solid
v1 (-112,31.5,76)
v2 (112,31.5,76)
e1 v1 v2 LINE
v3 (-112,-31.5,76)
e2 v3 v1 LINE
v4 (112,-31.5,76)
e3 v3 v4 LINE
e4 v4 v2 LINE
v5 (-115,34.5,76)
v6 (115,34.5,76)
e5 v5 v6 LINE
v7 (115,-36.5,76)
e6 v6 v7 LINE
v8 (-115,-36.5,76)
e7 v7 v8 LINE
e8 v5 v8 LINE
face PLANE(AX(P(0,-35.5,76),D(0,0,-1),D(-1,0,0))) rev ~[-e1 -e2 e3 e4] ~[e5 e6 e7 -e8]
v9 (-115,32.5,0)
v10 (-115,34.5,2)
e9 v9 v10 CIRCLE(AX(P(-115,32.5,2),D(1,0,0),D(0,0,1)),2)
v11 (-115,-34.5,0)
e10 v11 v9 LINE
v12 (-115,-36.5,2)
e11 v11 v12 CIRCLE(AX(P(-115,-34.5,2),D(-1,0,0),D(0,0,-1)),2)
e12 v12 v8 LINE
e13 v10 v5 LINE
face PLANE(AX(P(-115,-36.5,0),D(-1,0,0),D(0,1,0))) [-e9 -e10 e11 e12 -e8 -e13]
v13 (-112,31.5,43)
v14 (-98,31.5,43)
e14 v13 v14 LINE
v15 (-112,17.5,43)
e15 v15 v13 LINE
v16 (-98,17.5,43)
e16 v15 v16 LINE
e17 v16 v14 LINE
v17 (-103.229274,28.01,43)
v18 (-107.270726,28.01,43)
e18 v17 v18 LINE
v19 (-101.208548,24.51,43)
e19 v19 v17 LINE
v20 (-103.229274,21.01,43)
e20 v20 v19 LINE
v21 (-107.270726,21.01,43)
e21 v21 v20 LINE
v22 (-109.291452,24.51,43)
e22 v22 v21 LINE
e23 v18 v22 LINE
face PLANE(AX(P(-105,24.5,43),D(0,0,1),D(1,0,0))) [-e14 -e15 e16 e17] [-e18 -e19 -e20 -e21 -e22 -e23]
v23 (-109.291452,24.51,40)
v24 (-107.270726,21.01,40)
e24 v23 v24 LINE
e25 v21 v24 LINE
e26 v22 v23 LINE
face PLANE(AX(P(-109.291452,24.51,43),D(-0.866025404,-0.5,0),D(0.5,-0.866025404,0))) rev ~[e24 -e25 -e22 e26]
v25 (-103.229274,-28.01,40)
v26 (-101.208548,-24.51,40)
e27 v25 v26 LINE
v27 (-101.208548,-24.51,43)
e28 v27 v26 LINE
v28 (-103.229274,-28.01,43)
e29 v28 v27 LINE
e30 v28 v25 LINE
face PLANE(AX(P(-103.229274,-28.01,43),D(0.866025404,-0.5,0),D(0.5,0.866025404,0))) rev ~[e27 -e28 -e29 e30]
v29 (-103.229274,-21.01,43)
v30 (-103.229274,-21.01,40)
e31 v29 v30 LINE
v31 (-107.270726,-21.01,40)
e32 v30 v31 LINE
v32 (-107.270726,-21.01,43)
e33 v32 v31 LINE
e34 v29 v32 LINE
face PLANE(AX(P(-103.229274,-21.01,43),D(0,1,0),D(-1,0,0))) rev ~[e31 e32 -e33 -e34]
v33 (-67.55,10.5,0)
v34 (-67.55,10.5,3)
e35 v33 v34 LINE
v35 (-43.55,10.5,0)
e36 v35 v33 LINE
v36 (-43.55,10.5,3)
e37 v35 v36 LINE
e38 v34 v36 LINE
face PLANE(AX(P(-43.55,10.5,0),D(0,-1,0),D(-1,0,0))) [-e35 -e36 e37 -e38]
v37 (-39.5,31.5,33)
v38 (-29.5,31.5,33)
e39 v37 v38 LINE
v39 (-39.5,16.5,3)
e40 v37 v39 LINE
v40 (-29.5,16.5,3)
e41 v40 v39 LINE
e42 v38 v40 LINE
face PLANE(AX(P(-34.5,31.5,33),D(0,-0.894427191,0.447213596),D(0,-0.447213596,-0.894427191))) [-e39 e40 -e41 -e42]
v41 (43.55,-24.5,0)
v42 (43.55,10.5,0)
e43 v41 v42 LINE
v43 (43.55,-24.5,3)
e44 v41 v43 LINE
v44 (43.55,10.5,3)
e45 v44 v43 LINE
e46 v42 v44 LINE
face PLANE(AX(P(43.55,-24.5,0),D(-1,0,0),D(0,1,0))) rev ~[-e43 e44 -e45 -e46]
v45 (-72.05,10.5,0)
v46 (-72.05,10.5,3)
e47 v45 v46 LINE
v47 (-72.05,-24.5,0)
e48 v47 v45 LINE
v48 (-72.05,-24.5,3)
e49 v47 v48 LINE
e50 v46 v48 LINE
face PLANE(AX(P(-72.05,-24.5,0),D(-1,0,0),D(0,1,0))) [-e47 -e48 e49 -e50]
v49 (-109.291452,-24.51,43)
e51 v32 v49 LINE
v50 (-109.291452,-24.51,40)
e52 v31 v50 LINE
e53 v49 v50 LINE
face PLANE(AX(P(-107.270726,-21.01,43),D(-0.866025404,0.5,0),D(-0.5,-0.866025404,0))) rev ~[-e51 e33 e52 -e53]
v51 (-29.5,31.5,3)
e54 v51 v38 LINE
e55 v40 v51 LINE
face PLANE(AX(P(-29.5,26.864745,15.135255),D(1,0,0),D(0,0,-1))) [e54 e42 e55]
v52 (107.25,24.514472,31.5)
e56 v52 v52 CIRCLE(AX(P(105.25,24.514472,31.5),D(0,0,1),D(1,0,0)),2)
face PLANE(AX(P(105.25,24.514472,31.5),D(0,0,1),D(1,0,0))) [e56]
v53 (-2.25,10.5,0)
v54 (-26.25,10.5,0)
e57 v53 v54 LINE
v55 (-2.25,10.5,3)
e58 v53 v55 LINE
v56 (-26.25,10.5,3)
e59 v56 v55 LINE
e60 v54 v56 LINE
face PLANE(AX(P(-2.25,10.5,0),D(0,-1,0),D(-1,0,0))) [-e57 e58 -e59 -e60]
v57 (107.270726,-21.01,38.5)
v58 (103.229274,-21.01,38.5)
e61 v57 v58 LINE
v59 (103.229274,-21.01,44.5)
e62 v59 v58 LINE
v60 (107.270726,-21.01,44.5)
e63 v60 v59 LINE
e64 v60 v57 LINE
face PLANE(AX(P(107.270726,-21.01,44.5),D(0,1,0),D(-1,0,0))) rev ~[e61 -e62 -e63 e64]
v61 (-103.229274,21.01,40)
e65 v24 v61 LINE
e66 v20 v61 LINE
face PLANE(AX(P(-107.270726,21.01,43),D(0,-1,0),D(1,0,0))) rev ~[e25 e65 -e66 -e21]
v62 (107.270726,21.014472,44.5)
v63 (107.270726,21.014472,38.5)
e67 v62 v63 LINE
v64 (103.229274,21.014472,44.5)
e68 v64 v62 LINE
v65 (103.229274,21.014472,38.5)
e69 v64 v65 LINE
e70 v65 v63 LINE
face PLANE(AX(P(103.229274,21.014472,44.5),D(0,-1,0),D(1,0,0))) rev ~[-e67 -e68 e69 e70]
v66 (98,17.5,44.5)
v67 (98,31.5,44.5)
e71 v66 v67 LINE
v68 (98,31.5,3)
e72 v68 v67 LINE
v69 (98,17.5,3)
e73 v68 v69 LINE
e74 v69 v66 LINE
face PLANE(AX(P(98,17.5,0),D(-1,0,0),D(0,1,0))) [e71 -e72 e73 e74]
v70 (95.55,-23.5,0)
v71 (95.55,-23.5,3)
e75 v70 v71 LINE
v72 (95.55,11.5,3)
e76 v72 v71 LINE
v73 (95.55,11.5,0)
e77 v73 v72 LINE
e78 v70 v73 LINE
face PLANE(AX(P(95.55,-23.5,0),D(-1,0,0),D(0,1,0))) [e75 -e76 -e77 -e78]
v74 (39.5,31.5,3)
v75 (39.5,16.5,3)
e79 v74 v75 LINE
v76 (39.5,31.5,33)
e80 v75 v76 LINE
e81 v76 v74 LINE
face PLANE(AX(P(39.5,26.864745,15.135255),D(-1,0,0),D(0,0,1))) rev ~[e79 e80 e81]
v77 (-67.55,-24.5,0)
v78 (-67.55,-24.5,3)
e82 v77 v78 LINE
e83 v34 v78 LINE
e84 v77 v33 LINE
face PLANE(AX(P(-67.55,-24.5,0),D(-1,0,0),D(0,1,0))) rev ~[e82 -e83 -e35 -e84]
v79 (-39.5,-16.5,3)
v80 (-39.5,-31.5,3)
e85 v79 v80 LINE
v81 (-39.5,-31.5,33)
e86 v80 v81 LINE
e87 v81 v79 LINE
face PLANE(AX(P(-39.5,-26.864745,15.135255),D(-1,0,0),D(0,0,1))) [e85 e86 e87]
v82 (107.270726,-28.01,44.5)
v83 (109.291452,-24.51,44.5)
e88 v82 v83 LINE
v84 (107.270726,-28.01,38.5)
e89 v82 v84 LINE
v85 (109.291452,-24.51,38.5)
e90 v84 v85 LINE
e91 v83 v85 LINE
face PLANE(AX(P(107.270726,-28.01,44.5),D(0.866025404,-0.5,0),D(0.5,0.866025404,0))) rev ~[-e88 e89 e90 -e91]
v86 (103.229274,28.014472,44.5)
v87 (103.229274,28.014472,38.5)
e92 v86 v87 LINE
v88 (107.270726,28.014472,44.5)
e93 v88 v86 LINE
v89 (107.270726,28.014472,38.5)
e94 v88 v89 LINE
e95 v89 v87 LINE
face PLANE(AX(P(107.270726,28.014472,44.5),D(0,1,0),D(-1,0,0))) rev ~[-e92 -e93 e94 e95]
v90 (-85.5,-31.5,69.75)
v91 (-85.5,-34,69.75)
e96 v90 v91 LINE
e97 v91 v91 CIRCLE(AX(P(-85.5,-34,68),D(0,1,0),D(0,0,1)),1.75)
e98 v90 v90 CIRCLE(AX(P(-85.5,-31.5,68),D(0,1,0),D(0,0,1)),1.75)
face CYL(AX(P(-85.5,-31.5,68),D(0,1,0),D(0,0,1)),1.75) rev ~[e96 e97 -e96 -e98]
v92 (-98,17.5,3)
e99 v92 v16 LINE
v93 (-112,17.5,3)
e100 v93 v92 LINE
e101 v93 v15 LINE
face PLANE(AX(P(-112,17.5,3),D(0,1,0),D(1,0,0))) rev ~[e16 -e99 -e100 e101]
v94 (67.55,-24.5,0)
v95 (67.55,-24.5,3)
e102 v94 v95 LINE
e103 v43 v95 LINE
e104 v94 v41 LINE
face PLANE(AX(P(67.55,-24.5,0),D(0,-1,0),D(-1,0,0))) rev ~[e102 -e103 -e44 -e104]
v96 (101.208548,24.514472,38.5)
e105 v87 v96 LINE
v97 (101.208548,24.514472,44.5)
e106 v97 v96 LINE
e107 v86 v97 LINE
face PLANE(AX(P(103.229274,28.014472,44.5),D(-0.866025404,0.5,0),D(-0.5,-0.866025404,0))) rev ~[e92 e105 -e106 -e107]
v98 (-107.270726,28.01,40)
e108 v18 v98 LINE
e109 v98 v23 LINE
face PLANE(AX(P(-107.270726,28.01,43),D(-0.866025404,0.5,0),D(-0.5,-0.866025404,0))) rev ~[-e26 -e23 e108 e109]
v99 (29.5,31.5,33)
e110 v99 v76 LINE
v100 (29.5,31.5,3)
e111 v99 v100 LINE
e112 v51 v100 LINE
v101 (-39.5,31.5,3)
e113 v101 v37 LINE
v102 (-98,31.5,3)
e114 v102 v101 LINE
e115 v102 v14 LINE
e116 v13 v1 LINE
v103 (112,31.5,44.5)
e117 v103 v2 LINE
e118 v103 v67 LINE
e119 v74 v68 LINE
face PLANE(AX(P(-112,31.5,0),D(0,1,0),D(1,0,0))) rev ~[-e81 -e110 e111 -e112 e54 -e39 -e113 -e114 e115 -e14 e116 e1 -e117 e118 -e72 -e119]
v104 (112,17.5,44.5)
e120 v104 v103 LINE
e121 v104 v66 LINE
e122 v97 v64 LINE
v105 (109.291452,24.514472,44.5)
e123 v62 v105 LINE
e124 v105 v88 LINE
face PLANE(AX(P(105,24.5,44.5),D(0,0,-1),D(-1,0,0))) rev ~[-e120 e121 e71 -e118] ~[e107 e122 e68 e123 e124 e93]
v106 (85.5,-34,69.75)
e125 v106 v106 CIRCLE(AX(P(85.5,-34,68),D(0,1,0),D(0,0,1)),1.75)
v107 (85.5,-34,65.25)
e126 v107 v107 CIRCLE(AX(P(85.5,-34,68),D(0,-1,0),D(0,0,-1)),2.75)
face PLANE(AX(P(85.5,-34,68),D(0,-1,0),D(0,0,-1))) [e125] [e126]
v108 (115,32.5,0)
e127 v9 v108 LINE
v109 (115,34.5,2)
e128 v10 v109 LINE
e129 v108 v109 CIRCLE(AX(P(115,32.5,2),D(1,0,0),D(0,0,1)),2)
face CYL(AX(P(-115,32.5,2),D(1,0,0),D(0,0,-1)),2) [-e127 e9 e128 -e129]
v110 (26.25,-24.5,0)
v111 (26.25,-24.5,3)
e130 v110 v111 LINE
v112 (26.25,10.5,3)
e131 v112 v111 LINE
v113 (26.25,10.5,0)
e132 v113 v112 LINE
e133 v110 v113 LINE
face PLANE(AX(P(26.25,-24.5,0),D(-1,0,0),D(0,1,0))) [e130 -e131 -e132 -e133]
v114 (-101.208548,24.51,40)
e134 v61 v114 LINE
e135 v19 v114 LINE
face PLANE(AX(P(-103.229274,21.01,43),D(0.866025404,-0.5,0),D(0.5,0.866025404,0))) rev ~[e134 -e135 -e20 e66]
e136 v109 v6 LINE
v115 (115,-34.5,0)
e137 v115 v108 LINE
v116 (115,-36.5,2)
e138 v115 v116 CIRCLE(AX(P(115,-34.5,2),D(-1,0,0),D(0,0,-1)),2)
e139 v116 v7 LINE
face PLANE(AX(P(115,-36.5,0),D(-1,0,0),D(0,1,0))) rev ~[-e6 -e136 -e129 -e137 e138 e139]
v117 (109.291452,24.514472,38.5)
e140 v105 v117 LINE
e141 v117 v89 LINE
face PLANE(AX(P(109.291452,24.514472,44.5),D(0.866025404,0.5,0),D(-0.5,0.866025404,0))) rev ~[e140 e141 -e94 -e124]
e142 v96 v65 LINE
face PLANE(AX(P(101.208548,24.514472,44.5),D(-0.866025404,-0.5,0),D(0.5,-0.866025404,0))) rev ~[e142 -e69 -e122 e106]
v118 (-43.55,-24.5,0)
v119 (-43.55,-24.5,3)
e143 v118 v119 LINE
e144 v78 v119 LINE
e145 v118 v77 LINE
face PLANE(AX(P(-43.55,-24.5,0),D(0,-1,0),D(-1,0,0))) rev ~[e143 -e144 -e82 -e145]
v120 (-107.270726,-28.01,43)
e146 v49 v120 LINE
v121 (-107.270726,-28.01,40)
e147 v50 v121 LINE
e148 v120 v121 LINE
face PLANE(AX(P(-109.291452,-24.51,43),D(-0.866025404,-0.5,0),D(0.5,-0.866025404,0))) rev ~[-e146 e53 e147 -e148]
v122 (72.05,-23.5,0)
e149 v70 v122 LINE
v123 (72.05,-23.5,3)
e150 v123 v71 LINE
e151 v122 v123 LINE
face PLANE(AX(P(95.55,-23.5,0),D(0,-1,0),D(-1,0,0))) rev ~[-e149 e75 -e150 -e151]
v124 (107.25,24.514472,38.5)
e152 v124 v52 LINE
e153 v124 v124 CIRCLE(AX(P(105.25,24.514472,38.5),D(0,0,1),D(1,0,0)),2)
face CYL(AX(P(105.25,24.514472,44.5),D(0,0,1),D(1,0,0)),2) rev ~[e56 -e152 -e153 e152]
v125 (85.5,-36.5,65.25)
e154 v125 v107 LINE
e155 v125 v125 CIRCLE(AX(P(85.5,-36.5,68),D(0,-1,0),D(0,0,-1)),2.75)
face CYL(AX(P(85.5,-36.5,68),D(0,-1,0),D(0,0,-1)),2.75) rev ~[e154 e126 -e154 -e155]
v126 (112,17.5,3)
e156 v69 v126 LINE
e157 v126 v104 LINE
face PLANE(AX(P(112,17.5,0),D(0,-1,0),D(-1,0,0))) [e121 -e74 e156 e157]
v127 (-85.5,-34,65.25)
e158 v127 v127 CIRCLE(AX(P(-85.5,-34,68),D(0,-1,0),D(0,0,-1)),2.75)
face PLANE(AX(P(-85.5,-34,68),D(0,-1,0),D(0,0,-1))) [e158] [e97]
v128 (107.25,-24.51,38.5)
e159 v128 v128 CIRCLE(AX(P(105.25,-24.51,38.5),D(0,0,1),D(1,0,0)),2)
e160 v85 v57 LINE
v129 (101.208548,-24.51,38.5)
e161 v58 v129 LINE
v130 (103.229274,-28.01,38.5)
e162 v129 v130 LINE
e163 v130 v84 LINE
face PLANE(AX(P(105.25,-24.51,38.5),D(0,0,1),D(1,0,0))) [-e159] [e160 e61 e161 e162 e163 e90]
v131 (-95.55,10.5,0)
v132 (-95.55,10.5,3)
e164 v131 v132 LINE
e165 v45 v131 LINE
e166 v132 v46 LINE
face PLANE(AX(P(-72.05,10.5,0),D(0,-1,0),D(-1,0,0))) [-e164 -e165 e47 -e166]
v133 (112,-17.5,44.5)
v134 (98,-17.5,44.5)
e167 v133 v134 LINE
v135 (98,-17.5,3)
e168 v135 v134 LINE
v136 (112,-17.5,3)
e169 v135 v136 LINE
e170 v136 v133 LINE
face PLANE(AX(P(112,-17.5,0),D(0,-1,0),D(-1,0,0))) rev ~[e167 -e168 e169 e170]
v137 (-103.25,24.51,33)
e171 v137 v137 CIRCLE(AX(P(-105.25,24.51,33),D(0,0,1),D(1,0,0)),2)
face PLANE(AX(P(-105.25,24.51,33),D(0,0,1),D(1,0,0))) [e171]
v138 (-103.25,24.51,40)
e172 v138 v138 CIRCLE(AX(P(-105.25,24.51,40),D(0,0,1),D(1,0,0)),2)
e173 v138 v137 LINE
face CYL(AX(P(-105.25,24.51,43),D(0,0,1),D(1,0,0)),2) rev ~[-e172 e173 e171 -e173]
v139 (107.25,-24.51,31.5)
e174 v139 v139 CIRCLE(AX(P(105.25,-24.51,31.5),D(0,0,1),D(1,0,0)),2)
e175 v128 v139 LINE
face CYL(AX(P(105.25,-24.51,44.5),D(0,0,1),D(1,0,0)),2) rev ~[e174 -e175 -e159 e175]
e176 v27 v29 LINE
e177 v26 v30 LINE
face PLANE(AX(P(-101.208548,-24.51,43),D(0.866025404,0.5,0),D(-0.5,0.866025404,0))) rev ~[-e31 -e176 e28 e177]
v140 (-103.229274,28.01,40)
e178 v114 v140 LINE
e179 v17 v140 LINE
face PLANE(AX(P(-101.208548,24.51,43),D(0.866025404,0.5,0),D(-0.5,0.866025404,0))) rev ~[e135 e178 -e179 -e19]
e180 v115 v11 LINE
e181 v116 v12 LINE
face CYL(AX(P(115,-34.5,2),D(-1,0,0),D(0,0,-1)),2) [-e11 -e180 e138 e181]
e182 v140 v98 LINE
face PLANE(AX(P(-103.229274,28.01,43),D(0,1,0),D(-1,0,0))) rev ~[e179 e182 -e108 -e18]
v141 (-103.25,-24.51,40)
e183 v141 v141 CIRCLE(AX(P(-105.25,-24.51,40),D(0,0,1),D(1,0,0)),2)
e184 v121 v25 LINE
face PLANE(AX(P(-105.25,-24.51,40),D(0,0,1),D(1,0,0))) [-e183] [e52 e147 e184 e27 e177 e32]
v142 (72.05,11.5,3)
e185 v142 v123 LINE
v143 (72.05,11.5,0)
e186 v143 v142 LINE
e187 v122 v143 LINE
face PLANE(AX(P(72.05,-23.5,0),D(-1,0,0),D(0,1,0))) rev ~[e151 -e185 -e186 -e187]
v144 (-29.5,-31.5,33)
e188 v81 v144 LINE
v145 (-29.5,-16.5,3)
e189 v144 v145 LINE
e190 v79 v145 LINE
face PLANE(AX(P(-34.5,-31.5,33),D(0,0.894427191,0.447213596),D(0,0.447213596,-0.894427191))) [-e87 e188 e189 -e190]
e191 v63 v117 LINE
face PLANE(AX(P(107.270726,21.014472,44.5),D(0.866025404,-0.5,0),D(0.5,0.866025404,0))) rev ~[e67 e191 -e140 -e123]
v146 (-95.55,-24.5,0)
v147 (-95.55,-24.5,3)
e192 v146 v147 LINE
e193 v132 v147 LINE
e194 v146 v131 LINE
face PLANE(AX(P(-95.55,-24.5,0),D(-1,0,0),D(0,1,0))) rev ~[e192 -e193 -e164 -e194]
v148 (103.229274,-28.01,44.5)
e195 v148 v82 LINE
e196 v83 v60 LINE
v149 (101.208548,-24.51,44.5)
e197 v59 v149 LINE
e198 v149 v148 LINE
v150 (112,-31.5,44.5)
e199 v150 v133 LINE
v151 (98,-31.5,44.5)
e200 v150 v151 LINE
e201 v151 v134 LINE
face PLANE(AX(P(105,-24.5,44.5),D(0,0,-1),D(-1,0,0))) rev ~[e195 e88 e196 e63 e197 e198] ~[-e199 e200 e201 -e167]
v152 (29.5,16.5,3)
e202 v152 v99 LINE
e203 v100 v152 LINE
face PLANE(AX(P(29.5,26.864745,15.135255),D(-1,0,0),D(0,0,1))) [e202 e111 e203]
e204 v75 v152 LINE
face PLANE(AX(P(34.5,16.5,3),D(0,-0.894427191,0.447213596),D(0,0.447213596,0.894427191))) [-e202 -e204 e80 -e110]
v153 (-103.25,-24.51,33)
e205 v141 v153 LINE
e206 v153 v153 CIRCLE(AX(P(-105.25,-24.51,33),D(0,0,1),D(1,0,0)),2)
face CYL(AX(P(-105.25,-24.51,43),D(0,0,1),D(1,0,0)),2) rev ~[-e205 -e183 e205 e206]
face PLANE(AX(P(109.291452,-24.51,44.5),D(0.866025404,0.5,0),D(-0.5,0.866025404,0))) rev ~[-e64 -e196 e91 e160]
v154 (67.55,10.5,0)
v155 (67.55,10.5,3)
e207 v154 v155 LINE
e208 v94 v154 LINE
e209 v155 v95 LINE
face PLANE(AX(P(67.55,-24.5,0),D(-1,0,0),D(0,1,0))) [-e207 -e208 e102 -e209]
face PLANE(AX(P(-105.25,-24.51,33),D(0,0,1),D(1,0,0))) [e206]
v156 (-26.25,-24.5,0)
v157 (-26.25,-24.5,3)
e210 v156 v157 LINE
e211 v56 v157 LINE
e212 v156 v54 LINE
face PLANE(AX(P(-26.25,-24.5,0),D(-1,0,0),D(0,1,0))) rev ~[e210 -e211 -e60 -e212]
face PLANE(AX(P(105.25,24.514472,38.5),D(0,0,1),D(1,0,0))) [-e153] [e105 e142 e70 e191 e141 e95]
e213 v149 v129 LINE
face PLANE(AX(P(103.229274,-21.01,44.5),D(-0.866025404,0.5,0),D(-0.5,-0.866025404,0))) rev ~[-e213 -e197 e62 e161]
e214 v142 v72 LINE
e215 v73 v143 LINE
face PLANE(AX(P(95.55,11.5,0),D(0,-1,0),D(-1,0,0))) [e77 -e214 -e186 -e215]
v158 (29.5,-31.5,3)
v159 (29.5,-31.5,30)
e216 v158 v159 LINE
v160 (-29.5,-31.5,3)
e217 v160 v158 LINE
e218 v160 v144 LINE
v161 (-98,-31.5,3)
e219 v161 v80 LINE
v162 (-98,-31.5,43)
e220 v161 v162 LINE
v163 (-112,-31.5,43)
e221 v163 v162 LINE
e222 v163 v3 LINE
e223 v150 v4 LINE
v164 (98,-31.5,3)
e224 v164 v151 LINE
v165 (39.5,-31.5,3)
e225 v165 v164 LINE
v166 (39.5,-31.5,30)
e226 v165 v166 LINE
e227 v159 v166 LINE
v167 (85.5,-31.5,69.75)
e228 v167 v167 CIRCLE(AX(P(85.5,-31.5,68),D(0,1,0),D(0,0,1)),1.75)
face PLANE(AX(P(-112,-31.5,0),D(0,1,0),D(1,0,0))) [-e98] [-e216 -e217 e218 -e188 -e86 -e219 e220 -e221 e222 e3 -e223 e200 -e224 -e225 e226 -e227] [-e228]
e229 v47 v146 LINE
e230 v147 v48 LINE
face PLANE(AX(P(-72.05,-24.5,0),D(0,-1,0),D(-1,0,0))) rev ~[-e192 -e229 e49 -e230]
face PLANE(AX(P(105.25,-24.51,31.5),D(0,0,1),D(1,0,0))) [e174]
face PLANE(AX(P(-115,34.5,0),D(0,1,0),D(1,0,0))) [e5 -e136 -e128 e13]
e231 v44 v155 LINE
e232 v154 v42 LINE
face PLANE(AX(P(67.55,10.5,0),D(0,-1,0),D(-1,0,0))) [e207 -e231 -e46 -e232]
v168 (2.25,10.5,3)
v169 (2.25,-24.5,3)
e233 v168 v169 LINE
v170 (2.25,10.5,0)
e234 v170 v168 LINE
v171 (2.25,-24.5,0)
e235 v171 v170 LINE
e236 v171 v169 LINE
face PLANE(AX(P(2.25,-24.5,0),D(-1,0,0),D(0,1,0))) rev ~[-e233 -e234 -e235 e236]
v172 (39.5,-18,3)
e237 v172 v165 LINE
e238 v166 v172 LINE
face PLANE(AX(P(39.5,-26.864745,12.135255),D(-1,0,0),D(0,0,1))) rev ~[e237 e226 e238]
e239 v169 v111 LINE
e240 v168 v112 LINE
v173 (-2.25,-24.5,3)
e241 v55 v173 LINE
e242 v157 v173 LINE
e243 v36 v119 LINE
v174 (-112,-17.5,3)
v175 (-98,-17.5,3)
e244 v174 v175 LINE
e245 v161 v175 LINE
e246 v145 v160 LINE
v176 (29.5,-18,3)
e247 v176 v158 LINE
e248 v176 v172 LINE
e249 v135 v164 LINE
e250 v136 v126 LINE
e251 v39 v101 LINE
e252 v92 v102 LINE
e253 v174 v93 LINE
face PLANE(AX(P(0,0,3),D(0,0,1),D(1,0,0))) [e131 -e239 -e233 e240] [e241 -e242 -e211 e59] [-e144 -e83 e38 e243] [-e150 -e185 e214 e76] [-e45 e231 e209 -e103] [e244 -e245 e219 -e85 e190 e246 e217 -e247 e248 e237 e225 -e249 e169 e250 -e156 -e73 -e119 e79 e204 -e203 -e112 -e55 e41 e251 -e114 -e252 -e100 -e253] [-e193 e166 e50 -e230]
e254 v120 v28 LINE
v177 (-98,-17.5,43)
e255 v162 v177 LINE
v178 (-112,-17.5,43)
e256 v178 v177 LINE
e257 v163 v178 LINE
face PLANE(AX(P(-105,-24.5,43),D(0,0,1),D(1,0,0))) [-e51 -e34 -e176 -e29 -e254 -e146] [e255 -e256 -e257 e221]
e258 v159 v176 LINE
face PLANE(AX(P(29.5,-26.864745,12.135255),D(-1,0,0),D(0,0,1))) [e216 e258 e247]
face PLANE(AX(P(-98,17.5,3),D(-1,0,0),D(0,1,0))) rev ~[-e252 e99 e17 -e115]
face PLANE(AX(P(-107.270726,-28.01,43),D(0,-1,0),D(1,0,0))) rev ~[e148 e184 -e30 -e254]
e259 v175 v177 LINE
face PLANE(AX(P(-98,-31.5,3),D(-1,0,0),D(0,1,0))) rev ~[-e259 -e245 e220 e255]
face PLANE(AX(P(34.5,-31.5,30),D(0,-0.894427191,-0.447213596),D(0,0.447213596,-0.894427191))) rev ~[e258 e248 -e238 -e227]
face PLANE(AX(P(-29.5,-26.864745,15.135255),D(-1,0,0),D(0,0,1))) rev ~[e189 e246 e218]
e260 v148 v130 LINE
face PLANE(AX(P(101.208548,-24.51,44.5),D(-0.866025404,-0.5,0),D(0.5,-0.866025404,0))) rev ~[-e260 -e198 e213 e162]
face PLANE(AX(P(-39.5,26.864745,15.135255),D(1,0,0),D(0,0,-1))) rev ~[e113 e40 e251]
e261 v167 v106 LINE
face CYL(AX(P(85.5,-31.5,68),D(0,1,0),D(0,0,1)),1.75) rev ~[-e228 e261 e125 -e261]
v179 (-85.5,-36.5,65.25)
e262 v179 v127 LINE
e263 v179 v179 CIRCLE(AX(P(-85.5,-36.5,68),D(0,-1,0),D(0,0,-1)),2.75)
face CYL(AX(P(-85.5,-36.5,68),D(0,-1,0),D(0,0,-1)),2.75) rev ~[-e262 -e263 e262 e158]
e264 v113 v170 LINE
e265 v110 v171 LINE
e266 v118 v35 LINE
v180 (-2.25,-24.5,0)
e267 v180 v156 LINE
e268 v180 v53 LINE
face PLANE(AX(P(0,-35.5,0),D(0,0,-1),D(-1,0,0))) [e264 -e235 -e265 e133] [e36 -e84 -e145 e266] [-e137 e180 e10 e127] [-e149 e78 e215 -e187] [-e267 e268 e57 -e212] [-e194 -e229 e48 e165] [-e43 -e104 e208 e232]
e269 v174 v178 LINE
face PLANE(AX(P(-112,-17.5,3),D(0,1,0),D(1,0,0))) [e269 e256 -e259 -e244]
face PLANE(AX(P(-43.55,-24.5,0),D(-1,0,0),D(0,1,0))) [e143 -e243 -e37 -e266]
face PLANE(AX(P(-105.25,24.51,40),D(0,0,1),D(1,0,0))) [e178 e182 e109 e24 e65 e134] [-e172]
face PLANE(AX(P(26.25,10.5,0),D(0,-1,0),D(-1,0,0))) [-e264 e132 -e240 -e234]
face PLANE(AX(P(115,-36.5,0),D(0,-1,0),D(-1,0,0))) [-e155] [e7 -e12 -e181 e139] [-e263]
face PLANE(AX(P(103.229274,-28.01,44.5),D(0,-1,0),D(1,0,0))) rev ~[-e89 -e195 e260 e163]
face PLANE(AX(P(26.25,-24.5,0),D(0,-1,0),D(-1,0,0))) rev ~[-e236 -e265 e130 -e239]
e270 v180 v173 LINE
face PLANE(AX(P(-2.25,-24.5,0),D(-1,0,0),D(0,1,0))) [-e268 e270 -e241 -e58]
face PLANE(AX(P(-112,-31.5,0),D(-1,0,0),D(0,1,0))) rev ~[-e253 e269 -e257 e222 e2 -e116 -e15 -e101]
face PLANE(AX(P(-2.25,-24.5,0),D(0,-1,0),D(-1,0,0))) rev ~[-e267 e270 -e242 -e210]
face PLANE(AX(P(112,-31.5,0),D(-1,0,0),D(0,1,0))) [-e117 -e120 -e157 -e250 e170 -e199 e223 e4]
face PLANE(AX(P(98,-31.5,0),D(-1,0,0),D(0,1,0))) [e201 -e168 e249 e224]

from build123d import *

# Parameters (mm, degrees)
SKETCH_1_W           = 224
SKETCH_1_H           = 63
EXTRUDE_6_DEPTH      = 3
SKETCH_1_3_W         = 230
SKETCH_1_3_H         = 69
SKETCH_1_3_W_2       = 224
SKETCH_1_3_H_2       = 63
EXTRUDE_1_DEPTH      = 76
SKETCH_6_W           = 23.5
SKETCH_6_H           = 35
SKETCH_6_W_2         = 24
CUT_EXTRUDE_1_DEPTH  = 4
SKETCH_8_W           = 14
SKETCH_8_H           = 14
EXTRUDE_8_DEPTH      = 40
SKETCH_11_R          = 2
CUT_EXTRUDE_2_DEPTH  = 10
CUT_EXTRUDE_4_DEPTH  = 3
SKETCH_14_W          = 14
SKETCH_14_H          = 14
EXTRUDE_9_DEPTH      = 44.5
SKETCH_15_R          = 2
CUT_EXTRUDE_5_DEPTH  = 13
CUT_EXTRUDE_11_DEPTH = 6
EXTRUDE_10_DEPTH     = 5
EXTRUDE_11_DEPTH     = 5
SKETCH_30_W          = 230
SKETCH_30_H          = 2
EXTRUDE_13_DEPTH     = 76
FILLET_3_R           = 2
SKETCH_31_R          = 2.75
CUT_EXTRUDE_13_DEPTH = 2.5
SKETCH_28_R          = 1.75
CUT_EXTRUDE_14_DEPTH = 2.5


with BuildPart() as part:
    # 草图1 → 凸台-拉伸6 (new body)
    with BuildSketch(Plane.XY):
        Rectangle(SKETCH_1_W, SKETCH_1_H)
    extrude(amount=EXTRUDE_6_DEPTH)

    # 草图1<3> → 拉伸-薄壁1 (add)
    with BuildSketch(Plane.XY):
        Rectangle(SKETCH_1_3_W, SKETCH_1_3_H)
        Rectangle(SKETCH_1_3_W_2, SKETCH_1_3_H_2, mode=Mode.SUBTRACT)
    extrude(amount=EXTRUDE_1_DEPTH)

    # 草图6 → 切除-拉伸1 (cut)
    with BuildSketch(Plane(origin=(0, 0, 0), x_dir=(-1, 0, 0), z_dir=(0, 0, -1))):
        with Locations((-83.8, -6)):
            Rectangle(SKETCH_6_W, SKETCH_6_H)
        with Locations((-55.55, -7)):
            Rectangle(SKETCH_6_W_2, SKETCH_6_H)
        with Locations((-14.25, -7)):
            Rectangle(SKETCH_6_W_2, SKETCH_6_H)
        with Locations((14.25, -7)):
            Rectangle(SKETCH_6_W_2, SKETCH_6_H)
        with Locations((55.55, -7)):
            Rectangle(SKETCH_6_W_2, SKETCH_6_H)
        with Locations((83.8, -7)):
            Rectangle(SKETCH_6_W, SKETCH_6_H)
    extrude(amount=-CUT_EXTRUDE_1_DEPTH, mode=Mode.SUBTRACT)

    # 草图8 → 凸台-拉伸8 (add)
    with BuildSketch(Plane.XY.offset(3)):
        with Locations((-105, 24.5)):
            Rectangle(SKETCH_8_W, SKETCH_8_H)
        with Locations((-105, -24.5)):
            Rectangle(SKETCH_8_W, SKETCH_8_H)
    extrude(amount=EXTRUDE_8_DEPTH)

    # 草图11 → 切除-拉伸2 (cut)
    with BuildSketch(Plane.XY.offset(43)):
        with Locations((-105.25, 24.51)):
            Circle(SKETCH_11_R)
        with Locations((-105.25, -24.51)):
            Circle(SKETCH_11_R)
    extrude(amount=-CUT_EXTRUDE_2_DEPTH, mode=Mode.SUBTRACT)

    # 草图12<2> → 切除-拉伸4 (cut)
    with BuildSketch(Plane.XY.offset(43)):
        Polygon((-107.270725942, 28.01), (-109.291451884, 24.51), (-107.270725942, 21.01), (-103.229274058, 21.01), (-101.208548116, 24.51), (-103.229274058, 28.01), align=None)
        Polygon((-101.208548116, -24.51), (-103.229274058, -21.01), (-107.270725942, -21.01), (-109.291451884, -24.51), (-107.270725942, -28.01), (-103.229274058, -28.01), align=None)
    extrude(amount=-CUT_EXTRUDE_4_DEPTH, mode=Mode.SUBTRACT)

    # 草图14 → 凸台-拉伸9 (add)
    with BuildSketch(Plane(origin=(0, 0, 0), x_dir=(-1, 0, 0), z_dir=(0, 0, -1))):
        with Locations((-105, 24.5)):
            Rectangle(SKETCH_14_W, SKETCH_14_H)
        with Locations((-105, -24.5)):
            Rectangle(SKETCH_14_W, SKETCH_14_H)
    extrude(amount=-EXTRUDE_9_DEPTH)

    # 草图15 → 切除-拉伸5 (cut)
    with BuildSketch(Plane.XY.offset(44.5)):
        with Locations((105.25, 24.514472103)):
            Circle(SKETCH_15_R)
        with Locations((105.25, -24.51)):
            Circle(SKETCH_15_R)
    extrude(amount=-CUT_EXTRUDE_5_DEPTH, mode=Mode.SUBTRACT)

    # 草图16 → 切除-拉伸11 (cut)
    with BuildSketch(Plane.XY.offset(44.5)):
        Polygon((103.229274058, 21.014472103), (107.270725942, 21.014472103), (109.291451884, 24.514472103), (107.270725942, 28.014472103), (103.229274058, 28.014472103), (101.208548116, 24.514472103), align=None)
        Polygon((103.229274058, -28.01), (107.270725942, -28.01), (109.291451884, -24.51), (107.270725942, -21.01), (103.229274058, -21.01), (101.208548116, -24.51), align=None)
    extrude(amount=-CUT_EXTRUDE_11_DEPTH, mode=Mode.SUBTRACT)

    # 草图21 → 凸台-拉伸10 (add, symmetric)
    with BuildSketch(Plane.ZY.offset(34.5)):
        Polygon((3, 31.5), (33, 31.5), (3, 16.5), align=None)
        Polygon((3, -16.5), (3, -31.5), (33, -31.5), align=None)
    extrude(amount=EXTRUDE_10_DEPTH, both=True)

    # 草图22 → 凸台-拉伸11 (add, symmetric)
    with BuildSketch(Plane(origin=(34.5, 0, 0), x_dir=(0, 0, -1), z_dir=(1, 0, 0))):
        Polygon((-3, 31.5), (-3, 16.5), (-33, 31.5), align=None)
        Polygon((0, -16.5), (0, -31.5), (-30, -31.5), align=None)
    extrude(amount=EXTRUDE_11_DEPTH, both=True)

    # 草图30 → 凸台-拉伸13 (add)
    with BuildSketch(Plane(origin=(0, 0, 0), x_dir=(-1, 0, 0), z_dir=(0, 0, -1))):
        with Locations((0, -35.5)):
            Rectangle(SKETCH_30_W, SKETCH_30_H)
    extrude(amount=-EXTRUDE_13_DEPTH)

    # 圆角3
    fillet_3_edges = [part.edges().sort_by_distance(p)[0] for p in [
        (0, 34.5, 0),
        (0, -36.5, 0),
    ]]
    fillet(fillet_3_edges, radius=FILLET_3_R)

    # 草图31 → 切除-拉伸13 (cut)
    with BuildSketch(Plane.XZ.offset(36.5)):
        with Locations((-85.5, 68)):
            Circle(SKETCH_31_R)
        with Locations((85.5, 68)):
            Circle(SKETCH_31_R)
    extrude(amount=-CUT_EXTRUDE_13_DEPTH, mode=Mode.SUBTRACT)

    # 草图28 → 切除-拉伸14 (cut)
    with BuildSketch(Plane(origin=(0, -31.5, 0), x_dir=(1, 0, 0), z_dir=(0, 1, 0))):
        with Locations((85.5, -68)):
            Circle(SKETCH_28_R)
        with Locations((-85.5, -68)):
            Circle(SKETCH_28_R)
    extrude(amount=-CUT_EXTRUDE_14_DEPTH, mode=Mode.SUBTRACT)


solid = part.part
